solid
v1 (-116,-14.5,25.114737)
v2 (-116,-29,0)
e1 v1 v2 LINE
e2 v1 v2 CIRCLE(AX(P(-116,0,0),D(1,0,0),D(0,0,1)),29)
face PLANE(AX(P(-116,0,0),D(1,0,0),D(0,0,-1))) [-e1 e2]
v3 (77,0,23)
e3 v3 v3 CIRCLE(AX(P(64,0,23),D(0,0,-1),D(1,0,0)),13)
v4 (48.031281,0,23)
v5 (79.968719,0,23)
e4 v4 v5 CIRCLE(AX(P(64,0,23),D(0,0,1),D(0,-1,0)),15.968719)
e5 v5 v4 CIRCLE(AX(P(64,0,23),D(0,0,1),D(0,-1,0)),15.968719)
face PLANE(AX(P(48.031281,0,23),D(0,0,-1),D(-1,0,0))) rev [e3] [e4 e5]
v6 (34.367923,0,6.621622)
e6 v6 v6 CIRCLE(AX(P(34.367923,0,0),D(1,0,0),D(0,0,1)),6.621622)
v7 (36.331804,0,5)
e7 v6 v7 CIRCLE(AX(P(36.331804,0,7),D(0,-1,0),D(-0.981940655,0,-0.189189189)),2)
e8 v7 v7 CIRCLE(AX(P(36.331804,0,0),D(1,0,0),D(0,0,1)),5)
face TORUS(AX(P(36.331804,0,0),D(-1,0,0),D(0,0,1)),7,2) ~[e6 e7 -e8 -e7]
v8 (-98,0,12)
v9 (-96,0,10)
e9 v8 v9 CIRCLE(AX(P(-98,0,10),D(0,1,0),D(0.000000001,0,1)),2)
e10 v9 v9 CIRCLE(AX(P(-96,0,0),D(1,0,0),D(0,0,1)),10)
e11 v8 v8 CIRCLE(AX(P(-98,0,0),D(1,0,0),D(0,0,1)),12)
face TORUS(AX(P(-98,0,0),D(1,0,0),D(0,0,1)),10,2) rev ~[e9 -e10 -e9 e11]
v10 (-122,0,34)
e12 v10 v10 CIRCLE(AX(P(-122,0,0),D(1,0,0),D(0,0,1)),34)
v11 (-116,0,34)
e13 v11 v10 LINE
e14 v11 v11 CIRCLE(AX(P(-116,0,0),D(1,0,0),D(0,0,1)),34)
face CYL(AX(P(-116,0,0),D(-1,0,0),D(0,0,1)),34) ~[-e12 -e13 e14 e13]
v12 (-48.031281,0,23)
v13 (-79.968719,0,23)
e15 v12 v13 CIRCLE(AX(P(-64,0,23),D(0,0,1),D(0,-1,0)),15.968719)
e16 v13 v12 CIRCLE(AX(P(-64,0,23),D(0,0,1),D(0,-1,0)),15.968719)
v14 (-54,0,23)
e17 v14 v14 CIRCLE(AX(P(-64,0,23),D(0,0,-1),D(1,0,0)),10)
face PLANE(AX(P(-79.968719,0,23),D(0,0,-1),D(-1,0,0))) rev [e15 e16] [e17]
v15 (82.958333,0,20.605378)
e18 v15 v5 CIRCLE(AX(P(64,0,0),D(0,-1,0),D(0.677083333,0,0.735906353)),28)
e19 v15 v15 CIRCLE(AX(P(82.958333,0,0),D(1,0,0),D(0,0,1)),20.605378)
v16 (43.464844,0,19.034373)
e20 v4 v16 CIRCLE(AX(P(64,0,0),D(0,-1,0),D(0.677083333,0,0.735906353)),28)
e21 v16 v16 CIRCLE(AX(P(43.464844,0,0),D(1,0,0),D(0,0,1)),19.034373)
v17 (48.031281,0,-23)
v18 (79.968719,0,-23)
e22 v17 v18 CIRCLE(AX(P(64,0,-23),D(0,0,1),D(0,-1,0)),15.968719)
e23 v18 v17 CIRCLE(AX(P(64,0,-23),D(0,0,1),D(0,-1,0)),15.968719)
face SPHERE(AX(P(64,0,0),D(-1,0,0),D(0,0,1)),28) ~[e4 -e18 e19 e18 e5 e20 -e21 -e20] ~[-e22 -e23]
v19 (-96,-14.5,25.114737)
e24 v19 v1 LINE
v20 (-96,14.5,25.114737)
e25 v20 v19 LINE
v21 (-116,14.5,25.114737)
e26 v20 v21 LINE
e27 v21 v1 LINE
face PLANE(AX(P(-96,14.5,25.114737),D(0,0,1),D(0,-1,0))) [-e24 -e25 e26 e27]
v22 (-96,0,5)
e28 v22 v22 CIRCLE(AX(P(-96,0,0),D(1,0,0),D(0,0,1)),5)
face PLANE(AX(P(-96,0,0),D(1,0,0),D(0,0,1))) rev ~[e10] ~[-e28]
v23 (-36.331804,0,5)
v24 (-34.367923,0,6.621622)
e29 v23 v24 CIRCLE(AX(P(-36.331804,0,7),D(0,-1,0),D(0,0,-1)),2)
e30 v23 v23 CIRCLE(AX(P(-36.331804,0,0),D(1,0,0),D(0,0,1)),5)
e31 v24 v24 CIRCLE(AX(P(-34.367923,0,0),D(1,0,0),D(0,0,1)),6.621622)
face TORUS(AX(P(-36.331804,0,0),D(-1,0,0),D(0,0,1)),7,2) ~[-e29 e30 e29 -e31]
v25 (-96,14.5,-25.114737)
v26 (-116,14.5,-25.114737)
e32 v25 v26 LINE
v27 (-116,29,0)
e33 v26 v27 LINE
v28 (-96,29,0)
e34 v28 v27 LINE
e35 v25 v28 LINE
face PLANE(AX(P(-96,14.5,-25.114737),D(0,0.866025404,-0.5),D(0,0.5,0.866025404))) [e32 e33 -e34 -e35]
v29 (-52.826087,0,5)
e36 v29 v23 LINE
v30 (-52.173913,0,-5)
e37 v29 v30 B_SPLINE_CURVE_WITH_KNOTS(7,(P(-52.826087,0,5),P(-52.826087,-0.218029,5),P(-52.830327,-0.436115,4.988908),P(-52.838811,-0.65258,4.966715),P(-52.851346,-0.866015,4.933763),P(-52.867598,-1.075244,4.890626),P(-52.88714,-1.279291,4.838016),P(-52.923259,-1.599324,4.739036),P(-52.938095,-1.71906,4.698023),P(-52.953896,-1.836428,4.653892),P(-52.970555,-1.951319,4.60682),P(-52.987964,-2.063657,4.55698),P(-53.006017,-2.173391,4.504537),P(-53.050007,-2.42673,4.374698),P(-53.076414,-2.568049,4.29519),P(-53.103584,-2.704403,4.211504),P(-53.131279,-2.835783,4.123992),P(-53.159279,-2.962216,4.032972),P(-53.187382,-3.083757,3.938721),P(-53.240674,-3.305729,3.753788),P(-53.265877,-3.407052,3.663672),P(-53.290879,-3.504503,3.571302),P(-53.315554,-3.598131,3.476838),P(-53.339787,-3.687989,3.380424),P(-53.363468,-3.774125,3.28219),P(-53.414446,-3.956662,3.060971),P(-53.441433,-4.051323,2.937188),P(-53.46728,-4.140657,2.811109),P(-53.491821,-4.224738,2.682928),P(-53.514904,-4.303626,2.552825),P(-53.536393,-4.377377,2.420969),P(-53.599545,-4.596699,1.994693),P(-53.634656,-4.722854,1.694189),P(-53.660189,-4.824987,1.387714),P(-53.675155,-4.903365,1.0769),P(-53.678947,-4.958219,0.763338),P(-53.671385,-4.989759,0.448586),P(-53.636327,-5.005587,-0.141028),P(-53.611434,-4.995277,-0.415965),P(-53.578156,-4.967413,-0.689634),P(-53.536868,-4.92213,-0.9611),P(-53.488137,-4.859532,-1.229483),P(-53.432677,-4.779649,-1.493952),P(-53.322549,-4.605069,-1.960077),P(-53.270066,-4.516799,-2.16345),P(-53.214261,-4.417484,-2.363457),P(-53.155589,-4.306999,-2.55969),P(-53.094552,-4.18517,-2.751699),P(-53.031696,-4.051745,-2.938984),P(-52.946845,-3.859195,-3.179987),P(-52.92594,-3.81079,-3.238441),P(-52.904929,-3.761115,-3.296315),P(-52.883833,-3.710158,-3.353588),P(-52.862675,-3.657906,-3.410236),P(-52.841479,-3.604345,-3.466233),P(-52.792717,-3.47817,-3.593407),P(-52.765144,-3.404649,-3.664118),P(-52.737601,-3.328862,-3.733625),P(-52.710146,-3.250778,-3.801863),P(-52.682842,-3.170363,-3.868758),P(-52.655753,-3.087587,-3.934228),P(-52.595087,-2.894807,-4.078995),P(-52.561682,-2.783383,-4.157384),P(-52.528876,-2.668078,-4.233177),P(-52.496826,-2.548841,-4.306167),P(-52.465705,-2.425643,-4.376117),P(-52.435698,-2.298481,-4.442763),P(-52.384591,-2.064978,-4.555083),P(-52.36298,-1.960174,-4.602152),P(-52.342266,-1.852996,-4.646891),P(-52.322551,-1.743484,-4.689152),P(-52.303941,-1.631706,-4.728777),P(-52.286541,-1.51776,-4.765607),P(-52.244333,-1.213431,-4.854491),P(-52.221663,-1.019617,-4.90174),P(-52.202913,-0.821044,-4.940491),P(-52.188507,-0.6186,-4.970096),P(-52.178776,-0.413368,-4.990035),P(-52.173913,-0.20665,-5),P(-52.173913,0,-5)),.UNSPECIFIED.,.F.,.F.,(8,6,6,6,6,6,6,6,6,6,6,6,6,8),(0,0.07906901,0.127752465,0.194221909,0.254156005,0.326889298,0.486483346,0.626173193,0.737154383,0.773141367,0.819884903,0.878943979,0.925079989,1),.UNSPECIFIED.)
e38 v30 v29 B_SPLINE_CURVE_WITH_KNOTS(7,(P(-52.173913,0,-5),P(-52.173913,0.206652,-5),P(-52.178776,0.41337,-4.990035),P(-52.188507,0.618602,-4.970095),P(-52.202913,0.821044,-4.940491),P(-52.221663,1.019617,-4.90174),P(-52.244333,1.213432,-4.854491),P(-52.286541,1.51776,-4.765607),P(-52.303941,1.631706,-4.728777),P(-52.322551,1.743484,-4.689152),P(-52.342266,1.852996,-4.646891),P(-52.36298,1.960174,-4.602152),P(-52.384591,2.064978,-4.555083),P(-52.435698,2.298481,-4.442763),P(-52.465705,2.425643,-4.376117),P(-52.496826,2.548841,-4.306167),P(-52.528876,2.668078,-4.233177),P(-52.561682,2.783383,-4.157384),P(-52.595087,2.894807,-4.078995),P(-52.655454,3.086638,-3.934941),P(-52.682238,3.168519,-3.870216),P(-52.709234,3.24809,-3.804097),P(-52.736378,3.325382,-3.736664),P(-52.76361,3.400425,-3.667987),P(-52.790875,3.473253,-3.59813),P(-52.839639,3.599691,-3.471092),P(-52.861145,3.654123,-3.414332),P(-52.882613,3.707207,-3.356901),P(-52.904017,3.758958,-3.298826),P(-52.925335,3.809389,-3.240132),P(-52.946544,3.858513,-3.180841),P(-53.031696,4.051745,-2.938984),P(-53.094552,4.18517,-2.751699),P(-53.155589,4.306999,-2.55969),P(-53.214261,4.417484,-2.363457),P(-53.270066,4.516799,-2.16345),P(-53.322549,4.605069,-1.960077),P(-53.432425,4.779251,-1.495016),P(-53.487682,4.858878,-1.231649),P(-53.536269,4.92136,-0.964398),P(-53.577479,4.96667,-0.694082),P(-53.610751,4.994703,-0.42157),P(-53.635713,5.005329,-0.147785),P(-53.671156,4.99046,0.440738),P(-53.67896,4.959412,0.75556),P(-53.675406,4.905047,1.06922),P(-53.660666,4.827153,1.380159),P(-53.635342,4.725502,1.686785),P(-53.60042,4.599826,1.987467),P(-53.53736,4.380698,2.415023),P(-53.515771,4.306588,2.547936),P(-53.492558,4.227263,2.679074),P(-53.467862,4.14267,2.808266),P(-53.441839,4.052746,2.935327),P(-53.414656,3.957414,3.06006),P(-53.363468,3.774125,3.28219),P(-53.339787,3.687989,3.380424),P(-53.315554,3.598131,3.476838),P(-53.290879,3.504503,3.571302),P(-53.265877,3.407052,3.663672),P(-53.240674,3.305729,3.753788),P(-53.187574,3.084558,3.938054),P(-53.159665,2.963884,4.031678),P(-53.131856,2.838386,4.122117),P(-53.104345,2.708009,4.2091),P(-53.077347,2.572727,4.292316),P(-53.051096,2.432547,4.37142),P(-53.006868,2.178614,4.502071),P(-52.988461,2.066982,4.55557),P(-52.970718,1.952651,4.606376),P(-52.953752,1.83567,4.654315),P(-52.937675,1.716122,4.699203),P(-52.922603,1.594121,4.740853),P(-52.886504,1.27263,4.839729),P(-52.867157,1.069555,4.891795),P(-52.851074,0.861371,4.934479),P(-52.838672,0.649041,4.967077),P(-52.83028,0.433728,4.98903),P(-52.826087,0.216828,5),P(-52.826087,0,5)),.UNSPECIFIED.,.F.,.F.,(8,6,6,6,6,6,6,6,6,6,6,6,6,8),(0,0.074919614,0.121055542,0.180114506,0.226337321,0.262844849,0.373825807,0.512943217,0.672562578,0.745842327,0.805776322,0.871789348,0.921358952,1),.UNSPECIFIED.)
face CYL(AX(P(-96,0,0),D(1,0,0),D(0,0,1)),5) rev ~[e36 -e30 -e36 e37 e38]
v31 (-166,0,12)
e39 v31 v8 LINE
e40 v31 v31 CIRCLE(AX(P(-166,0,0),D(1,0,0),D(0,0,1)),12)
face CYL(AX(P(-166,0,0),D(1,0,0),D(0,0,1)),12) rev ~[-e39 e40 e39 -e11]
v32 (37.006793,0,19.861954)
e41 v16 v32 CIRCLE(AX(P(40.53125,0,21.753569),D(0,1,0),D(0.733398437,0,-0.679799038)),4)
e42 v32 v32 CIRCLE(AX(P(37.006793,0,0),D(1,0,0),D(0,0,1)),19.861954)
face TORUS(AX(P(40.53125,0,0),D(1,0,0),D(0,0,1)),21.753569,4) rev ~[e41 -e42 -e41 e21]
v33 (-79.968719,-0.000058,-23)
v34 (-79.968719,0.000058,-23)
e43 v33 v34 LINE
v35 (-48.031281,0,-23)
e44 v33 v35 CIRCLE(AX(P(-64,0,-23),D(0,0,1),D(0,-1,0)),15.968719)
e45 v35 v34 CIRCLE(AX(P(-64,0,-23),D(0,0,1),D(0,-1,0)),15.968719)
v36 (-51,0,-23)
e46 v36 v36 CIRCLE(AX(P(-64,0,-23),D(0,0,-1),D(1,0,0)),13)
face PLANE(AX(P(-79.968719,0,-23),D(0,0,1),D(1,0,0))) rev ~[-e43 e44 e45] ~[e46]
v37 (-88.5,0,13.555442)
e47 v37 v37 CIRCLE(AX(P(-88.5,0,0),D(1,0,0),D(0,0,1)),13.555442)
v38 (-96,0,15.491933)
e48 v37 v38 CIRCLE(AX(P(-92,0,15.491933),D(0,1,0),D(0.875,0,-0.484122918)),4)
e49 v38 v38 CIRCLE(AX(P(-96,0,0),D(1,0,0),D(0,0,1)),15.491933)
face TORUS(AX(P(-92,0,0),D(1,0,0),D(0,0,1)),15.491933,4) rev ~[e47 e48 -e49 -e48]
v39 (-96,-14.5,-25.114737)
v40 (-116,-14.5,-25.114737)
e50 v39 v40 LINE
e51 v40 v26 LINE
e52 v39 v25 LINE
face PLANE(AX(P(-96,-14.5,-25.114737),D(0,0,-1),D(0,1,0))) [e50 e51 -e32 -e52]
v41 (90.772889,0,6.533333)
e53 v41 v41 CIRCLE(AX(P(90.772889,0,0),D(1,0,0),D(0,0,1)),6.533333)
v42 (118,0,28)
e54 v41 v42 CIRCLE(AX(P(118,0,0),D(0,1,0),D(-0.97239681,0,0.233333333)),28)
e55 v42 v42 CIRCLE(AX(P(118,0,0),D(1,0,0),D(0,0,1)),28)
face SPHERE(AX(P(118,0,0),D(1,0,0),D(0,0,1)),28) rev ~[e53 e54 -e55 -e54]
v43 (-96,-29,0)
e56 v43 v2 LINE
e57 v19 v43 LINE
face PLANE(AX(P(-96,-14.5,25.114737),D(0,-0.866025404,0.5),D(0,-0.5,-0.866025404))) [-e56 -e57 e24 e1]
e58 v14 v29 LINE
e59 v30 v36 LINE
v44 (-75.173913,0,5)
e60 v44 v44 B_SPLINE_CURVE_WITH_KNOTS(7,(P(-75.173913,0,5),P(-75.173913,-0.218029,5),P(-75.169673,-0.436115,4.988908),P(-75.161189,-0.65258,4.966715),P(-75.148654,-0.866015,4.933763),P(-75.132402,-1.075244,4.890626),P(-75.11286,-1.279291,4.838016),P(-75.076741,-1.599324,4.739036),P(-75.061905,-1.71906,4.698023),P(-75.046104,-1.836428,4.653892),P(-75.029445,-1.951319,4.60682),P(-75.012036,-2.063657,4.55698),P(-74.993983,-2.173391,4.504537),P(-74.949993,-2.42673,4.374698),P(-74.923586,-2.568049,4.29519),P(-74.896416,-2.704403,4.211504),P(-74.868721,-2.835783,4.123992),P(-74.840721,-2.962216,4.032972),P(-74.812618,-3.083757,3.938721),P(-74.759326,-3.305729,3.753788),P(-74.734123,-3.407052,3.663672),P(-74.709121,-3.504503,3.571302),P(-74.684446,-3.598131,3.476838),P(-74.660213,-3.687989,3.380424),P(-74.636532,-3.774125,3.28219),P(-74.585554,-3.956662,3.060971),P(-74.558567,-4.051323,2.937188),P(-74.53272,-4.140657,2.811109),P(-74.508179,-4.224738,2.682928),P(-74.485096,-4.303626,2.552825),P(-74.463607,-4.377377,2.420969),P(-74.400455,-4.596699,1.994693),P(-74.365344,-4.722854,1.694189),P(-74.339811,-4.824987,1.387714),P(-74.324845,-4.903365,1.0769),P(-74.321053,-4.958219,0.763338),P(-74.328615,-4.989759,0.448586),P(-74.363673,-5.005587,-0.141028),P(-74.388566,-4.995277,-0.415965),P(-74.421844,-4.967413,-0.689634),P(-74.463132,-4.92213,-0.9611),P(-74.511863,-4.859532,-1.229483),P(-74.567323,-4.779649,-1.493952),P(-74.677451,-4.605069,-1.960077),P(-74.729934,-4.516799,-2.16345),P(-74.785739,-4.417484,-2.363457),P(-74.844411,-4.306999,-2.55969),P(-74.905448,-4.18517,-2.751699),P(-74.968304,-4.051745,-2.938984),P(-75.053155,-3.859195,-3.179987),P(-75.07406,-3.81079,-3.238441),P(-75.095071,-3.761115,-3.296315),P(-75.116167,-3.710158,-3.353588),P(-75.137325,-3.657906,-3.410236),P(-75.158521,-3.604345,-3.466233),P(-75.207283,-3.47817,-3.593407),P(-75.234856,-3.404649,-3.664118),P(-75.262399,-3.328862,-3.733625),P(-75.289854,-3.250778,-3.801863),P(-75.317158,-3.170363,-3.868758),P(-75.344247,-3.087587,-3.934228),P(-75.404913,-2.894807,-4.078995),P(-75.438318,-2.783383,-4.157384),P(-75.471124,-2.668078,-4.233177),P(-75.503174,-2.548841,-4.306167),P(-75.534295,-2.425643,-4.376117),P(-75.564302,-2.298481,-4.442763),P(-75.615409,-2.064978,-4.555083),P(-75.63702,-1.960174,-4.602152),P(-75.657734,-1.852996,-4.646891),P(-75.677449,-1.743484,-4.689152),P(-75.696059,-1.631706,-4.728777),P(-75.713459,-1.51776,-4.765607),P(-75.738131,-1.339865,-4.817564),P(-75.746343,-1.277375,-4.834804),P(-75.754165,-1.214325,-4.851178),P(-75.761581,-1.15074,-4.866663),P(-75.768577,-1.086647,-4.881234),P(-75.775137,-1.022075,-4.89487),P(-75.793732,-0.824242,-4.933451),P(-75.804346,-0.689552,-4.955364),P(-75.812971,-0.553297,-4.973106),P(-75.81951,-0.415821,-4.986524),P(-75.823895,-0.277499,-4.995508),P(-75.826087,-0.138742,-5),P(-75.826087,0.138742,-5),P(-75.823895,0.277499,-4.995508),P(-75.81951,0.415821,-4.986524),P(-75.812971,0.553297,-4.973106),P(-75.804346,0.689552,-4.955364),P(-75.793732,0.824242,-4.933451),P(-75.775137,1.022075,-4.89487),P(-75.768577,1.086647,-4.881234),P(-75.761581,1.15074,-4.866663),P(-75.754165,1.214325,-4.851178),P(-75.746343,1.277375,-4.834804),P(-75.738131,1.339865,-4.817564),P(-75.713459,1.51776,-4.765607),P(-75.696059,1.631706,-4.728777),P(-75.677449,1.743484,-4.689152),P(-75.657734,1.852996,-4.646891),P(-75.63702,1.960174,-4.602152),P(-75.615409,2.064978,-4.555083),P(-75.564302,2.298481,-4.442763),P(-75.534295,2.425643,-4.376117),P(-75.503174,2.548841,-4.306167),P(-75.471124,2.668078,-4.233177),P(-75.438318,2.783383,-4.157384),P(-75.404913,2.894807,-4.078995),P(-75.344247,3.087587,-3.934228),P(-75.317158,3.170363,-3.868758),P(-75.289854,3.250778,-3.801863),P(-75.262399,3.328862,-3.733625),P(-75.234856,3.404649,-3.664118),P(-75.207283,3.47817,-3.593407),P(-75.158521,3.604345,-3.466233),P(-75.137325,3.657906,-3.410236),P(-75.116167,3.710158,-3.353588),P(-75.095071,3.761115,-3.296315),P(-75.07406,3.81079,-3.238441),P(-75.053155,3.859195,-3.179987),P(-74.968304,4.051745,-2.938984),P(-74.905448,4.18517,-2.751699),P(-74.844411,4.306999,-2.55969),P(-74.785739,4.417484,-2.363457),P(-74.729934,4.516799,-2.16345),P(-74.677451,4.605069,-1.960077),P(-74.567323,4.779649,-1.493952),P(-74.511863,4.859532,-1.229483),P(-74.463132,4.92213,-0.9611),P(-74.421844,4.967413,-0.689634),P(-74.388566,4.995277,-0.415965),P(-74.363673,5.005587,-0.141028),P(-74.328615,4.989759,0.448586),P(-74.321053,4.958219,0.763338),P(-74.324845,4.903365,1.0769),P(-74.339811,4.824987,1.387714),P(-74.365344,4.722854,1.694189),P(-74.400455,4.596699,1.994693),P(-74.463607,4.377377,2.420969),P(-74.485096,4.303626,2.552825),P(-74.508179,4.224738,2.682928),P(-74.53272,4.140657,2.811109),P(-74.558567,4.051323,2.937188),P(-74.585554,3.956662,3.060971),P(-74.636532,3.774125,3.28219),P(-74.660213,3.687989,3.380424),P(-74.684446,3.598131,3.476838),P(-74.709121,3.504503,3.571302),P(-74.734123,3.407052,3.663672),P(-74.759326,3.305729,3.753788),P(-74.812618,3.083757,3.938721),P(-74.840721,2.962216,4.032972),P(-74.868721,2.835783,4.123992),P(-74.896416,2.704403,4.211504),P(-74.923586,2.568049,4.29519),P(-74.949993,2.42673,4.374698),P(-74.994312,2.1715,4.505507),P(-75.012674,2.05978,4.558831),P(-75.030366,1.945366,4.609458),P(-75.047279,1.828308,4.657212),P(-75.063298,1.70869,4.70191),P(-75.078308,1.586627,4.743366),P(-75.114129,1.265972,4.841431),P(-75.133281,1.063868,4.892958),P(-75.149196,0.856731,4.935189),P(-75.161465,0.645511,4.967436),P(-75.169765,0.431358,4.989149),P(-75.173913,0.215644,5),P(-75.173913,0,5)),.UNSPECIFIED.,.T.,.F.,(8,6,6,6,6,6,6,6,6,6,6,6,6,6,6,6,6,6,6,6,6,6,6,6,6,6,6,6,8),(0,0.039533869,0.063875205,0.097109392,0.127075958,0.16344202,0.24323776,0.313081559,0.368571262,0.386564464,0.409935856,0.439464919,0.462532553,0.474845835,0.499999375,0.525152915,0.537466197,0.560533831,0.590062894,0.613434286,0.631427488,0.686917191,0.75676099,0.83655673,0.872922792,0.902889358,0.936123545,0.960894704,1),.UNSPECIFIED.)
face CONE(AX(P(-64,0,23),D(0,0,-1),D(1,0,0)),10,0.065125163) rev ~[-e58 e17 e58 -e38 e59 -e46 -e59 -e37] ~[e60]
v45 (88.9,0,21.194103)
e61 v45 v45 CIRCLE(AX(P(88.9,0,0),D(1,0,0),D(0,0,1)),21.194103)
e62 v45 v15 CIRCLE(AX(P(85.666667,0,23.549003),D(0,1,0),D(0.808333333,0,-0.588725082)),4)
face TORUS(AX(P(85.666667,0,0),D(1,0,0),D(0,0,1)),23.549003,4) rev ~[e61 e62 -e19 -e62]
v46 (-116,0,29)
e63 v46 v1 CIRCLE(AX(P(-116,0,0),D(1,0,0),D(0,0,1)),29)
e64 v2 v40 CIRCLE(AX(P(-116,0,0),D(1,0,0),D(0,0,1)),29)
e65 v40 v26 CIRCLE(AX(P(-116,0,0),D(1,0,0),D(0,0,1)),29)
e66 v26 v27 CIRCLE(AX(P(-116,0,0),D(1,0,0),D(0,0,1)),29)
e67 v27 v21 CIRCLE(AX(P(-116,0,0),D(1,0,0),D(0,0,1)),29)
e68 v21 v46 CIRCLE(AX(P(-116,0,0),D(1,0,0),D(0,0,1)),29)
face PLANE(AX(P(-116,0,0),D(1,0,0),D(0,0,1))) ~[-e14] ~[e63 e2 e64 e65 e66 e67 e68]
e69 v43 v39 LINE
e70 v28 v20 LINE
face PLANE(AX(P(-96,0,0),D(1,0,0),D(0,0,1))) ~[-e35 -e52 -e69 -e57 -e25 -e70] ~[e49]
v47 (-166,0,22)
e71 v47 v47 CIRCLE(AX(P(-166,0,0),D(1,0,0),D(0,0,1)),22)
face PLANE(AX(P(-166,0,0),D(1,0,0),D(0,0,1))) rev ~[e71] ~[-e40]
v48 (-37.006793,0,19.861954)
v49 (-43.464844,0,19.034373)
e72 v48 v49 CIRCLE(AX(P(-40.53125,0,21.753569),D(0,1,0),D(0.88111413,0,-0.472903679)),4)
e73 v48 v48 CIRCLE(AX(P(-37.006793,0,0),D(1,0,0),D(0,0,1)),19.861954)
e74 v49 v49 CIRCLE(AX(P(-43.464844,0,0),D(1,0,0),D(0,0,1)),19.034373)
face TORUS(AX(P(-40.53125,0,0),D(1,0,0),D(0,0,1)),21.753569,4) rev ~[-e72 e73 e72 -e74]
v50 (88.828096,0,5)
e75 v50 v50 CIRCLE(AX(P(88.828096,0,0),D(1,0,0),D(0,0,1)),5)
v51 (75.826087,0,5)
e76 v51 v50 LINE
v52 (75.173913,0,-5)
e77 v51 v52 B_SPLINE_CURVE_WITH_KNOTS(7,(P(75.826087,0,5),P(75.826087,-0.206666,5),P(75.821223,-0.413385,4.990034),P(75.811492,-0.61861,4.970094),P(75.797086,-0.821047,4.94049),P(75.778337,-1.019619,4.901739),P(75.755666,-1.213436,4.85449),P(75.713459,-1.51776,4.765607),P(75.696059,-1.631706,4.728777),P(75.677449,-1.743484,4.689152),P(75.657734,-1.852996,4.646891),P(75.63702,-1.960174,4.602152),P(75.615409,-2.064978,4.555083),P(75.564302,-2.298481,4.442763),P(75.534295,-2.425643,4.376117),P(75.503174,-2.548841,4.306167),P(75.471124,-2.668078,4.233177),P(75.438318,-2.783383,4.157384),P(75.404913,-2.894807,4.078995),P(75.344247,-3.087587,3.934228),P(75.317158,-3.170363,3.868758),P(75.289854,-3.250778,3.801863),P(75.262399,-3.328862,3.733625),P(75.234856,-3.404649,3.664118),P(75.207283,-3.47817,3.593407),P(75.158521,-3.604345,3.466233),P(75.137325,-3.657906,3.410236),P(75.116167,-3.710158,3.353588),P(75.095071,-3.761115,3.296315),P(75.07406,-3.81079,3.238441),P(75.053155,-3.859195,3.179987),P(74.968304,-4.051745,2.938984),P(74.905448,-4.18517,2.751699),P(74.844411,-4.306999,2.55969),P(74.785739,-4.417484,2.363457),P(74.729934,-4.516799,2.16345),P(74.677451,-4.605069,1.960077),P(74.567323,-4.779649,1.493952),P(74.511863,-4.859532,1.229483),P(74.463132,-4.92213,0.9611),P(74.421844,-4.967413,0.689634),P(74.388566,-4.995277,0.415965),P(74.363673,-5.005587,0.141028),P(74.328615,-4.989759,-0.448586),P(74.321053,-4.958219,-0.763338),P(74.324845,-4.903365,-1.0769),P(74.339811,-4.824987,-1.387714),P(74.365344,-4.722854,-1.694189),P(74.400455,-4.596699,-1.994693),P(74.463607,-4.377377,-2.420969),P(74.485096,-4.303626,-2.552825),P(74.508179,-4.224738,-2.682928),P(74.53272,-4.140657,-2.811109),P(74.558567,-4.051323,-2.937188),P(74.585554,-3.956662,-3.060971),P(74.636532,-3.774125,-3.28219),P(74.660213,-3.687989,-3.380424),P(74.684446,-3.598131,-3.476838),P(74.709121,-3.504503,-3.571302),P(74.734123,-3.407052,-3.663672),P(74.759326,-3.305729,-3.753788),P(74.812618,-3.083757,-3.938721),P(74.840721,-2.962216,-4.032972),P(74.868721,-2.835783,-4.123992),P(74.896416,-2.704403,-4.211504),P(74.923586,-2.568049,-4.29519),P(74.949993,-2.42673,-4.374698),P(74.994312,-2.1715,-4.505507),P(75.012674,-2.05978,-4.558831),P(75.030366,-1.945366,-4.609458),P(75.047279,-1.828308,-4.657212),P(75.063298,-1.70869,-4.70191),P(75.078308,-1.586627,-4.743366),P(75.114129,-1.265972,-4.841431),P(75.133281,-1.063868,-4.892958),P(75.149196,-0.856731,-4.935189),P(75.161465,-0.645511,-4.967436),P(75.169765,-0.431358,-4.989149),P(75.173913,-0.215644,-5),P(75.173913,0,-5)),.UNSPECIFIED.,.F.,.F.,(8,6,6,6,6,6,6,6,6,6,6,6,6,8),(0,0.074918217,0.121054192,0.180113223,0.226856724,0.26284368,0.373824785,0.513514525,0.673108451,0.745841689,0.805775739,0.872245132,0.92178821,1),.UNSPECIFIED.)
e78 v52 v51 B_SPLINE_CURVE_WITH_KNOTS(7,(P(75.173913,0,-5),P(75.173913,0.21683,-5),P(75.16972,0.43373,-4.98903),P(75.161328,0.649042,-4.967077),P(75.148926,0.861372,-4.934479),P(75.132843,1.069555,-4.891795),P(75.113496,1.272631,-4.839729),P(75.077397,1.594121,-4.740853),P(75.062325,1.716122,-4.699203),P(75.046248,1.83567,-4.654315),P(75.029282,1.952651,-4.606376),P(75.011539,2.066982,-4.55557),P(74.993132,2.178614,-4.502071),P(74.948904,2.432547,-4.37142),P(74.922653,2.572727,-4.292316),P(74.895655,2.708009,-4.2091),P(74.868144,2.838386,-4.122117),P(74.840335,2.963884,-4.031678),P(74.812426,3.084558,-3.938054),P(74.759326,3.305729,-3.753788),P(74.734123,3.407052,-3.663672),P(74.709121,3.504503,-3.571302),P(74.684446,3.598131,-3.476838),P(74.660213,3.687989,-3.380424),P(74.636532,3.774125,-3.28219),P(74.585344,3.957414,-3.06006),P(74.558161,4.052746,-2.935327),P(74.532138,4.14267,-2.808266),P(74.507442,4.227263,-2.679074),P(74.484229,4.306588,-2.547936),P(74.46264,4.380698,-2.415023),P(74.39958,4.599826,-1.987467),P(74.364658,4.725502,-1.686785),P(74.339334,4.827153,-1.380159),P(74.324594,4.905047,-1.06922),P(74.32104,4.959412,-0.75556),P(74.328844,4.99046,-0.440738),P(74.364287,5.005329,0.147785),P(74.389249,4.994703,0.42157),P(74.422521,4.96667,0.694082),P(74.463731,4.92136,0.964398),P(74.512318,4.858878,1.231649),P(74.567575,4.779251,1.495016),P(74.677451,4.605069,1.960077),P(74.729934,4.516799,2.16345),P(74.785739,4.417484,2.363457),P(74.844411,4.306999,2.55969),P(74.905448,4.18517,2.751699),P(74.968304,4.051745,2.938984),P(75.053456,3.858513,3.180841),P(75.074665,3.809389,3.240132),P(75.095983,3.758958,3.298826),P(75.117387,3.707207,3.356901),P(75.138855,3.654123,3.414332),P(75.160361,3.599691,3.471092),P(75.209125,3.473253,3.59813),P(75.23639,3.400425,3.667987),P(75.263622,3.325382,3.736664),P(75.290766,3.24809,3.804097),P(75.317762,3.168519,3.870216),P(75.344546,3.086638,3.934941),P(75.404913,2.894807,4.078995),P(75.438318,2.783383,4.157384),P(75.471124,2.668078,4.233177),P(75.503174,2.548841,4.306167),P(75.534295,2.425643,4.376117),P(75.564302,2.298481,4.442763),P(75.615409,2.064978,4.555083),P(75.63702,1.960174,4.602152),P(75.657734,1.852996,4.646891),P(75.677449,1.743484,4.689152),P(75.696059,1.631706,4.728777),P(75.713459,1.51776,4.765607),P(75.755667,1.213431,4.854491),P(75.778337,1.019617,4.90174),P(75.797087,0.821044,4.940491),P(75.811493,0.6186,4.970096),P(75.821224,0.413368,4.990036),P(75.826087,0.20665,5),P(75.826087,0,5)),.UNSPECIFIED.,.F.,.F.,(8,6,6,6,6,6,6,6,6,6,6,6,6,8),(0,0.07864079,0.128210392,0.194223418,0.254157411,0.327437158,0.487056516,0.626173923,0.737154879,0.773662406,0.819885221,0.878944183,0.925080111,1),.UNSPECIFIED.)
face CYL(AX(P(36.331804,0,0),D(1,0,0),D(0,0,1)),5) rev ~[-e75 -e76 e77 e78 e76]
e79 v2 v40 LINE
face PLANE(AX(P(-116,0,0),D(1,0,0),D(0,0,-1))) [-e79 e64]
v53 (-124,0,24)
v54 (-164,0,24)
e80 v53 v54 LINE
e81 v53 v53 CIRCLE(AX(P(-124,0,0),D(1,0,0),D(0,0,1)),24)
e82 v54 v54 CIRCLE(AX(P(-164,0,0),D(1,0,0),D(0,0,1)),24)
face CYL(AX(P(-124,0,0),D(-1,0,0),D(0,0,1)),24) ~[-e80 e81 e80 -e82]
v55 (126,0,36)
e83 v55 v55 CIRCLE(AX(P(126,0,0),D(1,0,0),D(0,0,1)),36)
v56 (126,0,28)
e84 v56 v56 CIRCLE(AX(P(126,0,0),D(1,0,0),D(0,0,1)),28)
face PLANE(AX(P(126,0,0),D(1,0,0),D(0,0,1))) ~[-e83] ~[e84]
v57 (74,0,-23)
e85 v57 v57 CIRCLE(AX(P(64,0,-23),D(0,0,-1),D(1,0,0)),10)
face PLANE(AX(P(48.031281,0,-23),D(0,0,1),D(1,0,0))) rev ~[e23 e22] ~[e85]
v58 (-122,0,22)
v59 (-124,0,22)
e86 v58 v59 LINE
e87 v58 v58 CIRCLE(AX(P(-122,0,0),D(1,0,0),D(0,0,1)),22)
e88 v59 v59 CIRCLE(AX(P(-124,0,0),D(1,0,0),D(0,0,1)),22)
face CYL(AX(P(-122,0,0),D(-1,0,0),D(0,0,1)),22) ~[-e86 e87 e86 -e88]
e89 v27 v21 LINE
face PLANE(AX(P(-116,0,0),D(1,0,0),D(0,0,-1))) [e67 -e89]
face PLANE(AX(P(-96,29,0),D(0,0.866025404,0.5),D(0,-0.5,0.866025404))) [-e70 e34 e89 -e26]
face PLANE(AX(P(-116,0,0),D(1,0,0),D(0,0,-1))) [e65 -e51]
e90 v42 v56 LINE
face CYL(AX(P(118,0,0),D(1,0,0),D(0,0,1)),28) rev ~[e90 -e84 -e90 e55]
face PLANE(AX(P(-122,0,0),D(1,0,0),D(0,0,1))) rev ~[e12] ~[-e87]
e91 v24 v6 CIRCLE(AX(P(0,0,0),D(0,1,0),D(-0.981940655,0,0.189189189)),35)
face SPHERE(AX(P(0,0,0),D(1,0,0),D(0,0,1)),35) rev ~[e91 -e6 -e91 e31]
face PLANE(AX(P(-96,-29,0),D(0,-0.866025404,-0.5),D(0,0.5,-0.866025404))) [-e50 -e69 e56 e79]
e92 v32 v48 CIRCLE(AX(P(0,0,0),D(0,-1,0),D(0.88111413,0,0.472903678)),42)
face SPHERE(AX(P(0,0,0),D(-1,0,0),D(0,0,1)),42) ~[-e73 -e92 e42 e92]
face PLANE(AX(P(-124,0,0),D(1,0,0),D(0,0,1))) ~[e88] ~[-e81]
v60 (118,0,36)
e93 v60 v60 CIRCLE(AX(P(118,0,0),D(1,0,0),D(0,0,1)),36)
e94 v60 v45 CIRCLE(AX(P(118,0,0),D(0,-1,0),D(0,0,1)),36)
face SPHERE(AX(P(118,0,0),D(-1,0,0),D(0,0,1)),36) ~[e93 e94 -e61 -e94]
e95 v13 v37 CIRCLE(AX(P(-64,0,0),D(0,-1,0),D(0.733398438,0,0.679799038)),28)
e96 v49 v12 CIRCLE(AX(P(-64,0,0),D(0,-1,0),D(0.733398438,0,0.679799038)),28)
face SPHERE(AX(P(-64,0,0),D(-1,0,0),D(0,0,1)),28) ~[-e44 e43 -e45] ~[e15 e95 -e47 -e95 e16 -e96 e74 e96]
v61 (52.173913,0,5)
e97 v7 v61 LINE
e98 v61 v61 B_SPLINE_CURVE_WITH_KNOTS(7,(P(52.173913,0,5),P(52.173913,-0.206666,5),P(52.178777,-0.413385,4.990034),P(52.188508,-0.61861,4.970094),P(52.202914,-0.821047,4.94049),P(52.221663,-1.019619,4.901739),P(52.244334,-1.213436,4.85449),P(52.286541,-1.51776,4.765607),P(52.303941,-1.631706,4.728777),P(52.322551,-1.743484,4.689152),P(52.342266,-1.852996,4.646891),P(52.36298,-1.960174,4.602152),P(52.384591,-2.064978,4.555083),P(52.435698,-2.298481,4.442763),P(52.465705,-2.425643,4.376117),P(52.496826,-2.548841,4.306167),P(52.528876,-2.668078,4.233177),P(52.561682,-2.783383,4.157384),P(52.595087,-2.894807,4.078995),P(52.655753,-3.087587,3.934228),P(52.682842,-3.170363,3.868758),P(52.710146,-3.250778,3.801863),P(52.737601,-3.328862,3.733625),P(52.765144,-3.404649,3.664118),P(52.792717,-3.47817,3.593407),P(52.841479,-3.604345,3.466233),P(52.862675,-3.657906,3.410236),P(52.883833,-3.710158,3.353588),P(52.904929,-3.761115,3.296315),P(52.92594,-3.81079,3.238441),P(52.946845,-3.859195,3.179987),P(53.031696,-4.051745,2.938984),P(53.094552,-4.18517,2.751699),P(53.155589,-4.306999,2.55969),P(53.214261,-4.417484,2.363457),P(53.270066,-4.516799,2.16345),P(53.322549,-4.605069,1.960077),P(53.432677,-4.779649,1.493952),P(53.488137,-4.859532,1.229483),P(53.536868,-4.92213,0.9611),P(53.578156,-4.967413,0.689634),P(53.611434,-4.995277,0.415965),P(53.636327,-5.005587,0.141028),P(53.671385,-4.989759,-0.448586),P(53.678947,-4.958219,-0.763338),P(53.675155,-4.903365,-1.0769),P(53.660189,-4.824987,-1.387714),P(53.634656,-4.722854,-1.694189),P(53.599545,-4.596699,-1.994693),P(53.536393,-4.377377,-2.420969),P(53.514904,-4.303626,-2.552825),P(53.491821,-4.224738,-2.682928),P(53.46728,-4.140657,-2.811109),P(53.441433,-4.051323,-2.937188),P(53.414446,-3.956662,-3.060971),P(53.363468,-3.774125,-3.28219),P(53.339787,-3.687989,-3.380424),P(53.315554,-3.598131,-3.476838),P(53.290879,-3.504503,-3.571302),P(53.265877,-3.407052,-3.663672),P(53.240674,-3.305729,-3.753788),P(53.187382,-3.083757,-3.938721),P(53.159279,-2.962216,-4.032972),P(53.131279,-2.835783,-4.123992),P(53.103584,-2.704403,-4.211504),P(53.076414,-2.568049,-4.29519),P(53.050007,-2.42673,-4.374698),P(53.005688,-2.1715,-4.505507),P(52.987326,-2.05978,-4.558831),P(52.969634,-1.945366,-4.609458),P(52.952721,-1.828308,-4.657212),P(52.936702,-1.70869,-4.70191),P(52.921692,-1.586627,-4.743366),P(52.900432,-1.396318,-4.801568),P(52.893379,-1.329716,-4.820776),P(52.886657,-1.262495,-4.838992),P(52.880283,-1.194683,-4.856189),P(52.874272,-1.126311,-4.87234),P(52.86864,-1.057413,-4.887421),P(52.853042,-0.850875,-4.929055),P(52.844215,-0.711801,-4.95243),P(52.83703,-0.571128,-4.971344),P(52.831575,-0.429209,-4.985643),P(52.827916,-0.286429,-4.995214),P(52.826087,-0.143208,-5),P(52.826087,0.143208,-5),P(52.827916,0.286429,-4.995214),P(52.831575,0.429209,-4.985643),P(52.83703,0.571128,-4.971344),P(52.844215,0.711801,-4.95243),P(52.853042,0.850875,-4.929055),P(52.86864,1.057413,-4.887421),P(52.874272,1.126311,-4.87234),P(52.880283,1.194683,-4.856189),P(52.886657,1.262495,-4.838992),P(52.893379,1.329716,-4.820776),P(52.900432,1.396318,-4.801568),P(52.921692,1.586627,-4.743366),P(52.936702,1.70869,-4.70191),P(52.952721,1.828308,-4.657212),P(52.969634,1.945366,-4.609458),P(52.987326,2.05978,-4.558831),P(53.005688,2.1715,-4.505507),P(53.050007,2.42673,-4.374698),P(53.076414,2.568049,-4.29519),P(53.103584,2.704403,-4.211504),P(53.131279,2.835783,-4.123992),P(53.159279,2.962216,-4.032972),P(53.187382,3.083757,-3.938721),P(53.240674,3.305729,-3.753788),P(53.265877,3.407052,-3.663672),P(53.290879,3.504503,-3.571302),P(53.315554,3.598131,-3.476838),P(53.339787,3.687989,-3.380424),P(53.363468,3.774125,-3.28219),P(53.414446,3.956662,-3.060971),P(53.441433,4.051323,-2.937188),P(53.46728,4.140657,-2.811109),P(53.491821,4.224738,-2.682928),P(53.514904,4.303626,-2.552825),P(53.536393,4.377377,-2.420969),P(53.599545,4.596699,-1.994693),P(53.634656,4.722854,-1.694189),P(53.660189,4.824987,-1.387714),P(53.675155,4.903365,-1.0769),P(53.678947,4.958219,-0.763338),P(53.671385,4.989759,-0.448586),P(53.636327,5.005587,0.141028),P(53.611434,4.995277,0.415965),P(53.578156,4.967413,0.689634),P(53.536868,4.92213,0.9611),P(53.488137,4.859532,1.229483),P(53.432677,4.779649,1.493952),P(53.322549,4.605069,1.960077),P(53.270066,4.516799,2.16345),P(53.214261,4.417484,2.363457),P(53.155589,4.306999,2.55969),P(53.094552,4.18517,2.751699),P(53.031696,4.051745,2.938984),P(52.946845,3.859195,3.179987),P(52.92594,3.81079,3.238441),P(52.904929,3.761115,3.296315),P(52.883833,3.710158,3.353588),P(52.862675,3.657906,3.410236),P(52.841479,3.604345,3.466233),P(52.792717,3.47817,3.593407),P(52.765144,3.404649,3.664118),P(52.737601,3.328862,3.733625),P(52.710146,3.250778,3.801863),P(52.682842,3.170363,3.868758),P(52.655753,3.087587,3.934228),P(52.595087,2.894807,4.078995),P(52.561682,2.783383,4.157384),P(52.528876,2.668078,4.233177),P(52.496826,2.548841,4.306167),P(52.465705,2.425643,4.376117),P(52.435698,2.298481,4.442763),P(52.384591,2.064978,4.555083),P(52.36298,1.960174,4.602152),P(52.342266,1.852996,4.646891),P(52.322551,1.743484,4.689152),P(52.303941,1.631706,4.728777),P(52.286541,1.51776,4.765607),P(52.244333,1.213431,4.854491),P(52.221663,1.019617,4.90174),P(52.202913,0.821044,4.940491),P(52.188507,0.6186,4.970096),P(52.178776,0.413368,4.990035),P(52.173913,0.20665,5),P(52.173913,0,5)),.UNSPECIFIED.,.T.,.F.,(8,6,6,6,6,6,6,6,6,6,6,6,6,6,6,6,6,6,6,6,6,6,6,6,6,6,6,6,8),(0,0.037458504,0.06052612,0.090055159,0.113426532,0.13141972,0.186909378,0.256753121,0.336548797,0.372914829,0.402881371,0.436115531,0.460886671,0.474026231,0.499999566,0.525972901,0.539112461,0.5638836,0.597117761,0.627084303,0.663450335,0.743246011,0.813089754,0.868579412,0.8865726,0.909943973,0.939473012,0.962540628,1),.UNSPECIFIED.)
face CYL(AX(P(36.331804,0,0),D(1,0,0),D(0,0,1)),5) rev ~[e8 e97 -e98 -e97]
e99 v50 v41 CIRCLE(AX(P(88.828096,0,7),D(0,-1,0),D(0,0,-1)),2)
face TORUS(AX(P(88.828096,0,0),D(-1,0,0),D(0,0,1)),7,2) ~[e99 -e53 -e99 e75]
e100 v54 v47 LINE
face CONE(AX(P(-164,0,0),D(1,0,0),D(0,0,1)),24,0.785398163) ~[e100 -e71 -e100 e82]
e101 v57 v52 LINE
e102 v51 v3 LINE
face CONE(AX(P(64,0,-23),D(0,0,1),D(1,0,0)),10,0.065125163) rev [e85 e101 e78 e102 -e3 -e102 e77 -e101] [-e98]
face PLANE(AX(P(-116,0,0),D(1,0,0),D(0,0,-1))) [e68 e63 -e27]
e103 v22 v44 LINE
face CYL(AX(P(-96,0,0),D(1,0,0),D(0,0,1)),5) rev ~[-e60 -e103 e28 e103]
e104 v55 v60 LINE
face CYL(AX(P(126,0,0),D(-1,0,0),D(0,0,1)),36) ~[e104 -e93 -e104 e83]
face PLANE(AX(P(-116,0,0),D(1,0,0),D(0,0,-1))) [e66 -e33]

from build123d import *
from build123d.topology import SkipClean

# Parameters (mm, degrees)
CUT_EXTRUDE3_DEPTH = 177.306551211
CUT_EXTRUDE4_DEPTH = 177.306551211
SKETCH5_OUTSIDE_W  = 149.048
SKETCH5_OUTSIDE_H  = 149.048
CUT_EXTRUDE5_DEPTH = 20


with BuildPart() as part:
    # Sketch2 → Revolve1 (revolve)
    with BuildSketch(Plane(origin=(0, 0, 0), x_dir=(1, 0, 0), z_dir=(0, 1, 0)), mode=Mode.PRIVATE) as revolve1_sk:
        with BuildLine():
            Line((-166, 12), (-98, 12))
            ThreePointArc((-98, 12), (-96.585786438, 11.414213562), (-96, 10))
            Line((-96, 10), (-96, 5))
            Line((-96, 5), (-36.331804249, 5))
            ThreePointArc((-36.331804249, 5), (-35.058375169, 5.457800798), (-34.367922938, 6.621621622))
            ThreePointArc((-34.367922938, 6.621621622), (0, 35), (34.367922938, 6.621621622))
            ThreePointArc((34.367922938, 6.621621622), (35.058375169, 5.457800798), (36.331804249, 5))
            Line((36.331804249, 5), (88.828095708, 5))
            ThreePointArc((88.828095708, 5), (90.066374083, 5.429437468), (90.772889328, 6.533333333))
            ThreePointArc((90.772889328, 6.533333333), (100.664102754, 21.987875447), (118, 28))
            Line((118, 28), (126, 28))
            Line((126, 28), (126, 36))
            Line((126, 36), (118, 36))
            ThreePointArc((118, 36), (101.674984017, 32.085726627), (88.9, 21.194102953))
            ThreePointArc((88.9, 21.194102953), (86.061071986, 19.568495218), (82.958333333, 20.605377871))
            ThreePointArc((82.958333333, 20.605377871), (62.887072933, 27.977873281), (43.46484375, 19.03437306))
            ThreePointArc((43.46484375, 19.03437306), (40.022818625, 17.786013599), (37.006793478, 19.861954497))
            ThreePointArc((37.006793478, 19.861954497), (0, 42), (-37.006793478, 19.861954497))
            ThreePointArc((-37.006793478, 19.861954497), (-40.022818625, 17.786013599), (-43.46484375, 19.03437306))
            ThreePointArc((-43.46484375, 19.03437306), (-67.381518693, 27.795059477), (-88.5, 13.555441712))
            ThreePointArc((-88.5, 13.555441712), (-93, 11.618950039), (-96, 15.491933385))
            Line((-96, 15.491933385), (-96, 29))
            Line((-96, 29), (-116, 29))
            Line((-116, 29), (-116, 34))
            Line((-116, 34), (-122, 34))
            Line((-122, 34), (-122, 22))
            Line((-122, 22), (-124, 22))
            Line((-124, 22), (-124, 24))
            Line((-124, 24), (-164, 24))
            Line((-164, 24), (-166, 22))
            Line((-166, 22), (-166, 12))
        make_face()
    revolve(revolve1_sk.sketch.rotate(Axis((-126, 0, 0), (1, 0, 0)), 180), axis=Axis((-126, 0, 0), (1, 0, 0)))

    # Sketch2<3> → Cut-Extrude3 (cut, symmetric)
    with SkipClean():  # the faces are left unmerged after this step: merging them gives an invalid solid
        with BuildSketch(Plane(origin=(0, 0, 0), x_dir=(1, 0, 0), z_dir=(0, 1, 0))):
            with BuildLine():
                ThreePointArc((-48.031280577, 23), (-64, 28), (-79.968719423, 23))
                Line((-79.968719423, 23), (-48.031280577, 23))
            make_face()
        cut_extrude3 = extrude(amount=CUT_EXTRUDE3_DEPTH, both=True, mode=Mode.SUBTRACT)

    # Sketch2<4> → Cut-Extrude4 (cut, symmetric)
    with SkipClean():  # the faces are left unmerged after this step: merging them gives an invalid solid
        with BuildSketch(Plane(origin=(0, 0, 0), x_dir=(1, 0, 0), z_dir=(0, 1, 0))):
            with BuildLine():
                Line((48.031280577, 23), (79.968719423, 23))
                ThreePointArc((79.968719423, 23), (64, 28), (48.031280577, 23))
            make_face()
        cut_extrude4 = extrude(amount=CUT_EXTRUDE4_DEPTH, both=True, mode=Mode.SUBTRACT)

    # Mirror1: Cut-Extrude3, Cut-Extrude4 across plane
    with SkipClean():  # the faces are left unmerged after this step: merging them gives an invalid solid
        add(cut_extrude3.mirror(Plane.XY), mode=Mode.SUBTRACT)
        add(cut_extrude4.mirror(Plane.XY), mode=Mode.SUBTRACT)

    # Sketch3 → Cut-Revolve1 (revolve, cut)
    with SkipClean():  # the faces are left unmerged after this step: merging them gives an invalid solid
        with BuildSketch(Plane(origin=(0, 0, 0), x_dir=(1, 0, 0), z_dir=(0, 1, 0)), mode=Mode.PRIVATE) as cut_revolve1_sk:
            Polygon((-77, 23), (-64, 23), (-64, -23), (-74, -23), align=None)
        revolve(cut_revolve1_sk.sketch.rotate(Axis((-64, 0, 23), (0, 0, -1)), 180), axis=Axis((-64, 0, 23), (0, 0, -1)), mode=Mode.SUBTRACT)

    # Sketch4 → Cut-Revolve2 (revolve, cut)
    with SkipClean():  # the faces are left unmerged after this step: merging them gives an invalid solid
        with BuildSketch(Plane(origin=(0, 0, 0), x_dir=(1, 0, 0), z_dir=(0, 1, 0)), mode=Mode.PRIVATE) as cut_revolve2_sk:
            Polygon((64, -23), (64, 23), (54, 23), (51, -23), align=None)
        revolve(cut_revolve2_sk.sketch.rotate(Axis((64, 0, 23), (0, 0, -1)), 180), axis=Axis((64, 0, 23), (0, 0, -1)), mode=Mode.SUBTRACT)

    # Sketch5 outside → Cut-Extrude5 (cut)
    with SkipClean():  # the faces are left unmerged after this step: merging them gives an invalid solid
        with BuildSketch(Plane(origin=(-96, 0, 0), x_dir=(0, 0, -1), z_dir=(1, 0, 0))):
            Rectangle(SKETCH5_OUTSIDE_W, SKETCH5_OUTSIDE_H)
            Polygon((25.11473671, 14.5), (0, 29), (-25.11473671, 14.5), (-25.11473671, -14.5), (0, -29), (25.11473671, -14.5), align=None, mode=Mode.SUBTRACT)
        extrude(amount=-CUT_EXTRUDE5_DEPTH, mode=Mode.SUBTRACT)


solid = part.part
